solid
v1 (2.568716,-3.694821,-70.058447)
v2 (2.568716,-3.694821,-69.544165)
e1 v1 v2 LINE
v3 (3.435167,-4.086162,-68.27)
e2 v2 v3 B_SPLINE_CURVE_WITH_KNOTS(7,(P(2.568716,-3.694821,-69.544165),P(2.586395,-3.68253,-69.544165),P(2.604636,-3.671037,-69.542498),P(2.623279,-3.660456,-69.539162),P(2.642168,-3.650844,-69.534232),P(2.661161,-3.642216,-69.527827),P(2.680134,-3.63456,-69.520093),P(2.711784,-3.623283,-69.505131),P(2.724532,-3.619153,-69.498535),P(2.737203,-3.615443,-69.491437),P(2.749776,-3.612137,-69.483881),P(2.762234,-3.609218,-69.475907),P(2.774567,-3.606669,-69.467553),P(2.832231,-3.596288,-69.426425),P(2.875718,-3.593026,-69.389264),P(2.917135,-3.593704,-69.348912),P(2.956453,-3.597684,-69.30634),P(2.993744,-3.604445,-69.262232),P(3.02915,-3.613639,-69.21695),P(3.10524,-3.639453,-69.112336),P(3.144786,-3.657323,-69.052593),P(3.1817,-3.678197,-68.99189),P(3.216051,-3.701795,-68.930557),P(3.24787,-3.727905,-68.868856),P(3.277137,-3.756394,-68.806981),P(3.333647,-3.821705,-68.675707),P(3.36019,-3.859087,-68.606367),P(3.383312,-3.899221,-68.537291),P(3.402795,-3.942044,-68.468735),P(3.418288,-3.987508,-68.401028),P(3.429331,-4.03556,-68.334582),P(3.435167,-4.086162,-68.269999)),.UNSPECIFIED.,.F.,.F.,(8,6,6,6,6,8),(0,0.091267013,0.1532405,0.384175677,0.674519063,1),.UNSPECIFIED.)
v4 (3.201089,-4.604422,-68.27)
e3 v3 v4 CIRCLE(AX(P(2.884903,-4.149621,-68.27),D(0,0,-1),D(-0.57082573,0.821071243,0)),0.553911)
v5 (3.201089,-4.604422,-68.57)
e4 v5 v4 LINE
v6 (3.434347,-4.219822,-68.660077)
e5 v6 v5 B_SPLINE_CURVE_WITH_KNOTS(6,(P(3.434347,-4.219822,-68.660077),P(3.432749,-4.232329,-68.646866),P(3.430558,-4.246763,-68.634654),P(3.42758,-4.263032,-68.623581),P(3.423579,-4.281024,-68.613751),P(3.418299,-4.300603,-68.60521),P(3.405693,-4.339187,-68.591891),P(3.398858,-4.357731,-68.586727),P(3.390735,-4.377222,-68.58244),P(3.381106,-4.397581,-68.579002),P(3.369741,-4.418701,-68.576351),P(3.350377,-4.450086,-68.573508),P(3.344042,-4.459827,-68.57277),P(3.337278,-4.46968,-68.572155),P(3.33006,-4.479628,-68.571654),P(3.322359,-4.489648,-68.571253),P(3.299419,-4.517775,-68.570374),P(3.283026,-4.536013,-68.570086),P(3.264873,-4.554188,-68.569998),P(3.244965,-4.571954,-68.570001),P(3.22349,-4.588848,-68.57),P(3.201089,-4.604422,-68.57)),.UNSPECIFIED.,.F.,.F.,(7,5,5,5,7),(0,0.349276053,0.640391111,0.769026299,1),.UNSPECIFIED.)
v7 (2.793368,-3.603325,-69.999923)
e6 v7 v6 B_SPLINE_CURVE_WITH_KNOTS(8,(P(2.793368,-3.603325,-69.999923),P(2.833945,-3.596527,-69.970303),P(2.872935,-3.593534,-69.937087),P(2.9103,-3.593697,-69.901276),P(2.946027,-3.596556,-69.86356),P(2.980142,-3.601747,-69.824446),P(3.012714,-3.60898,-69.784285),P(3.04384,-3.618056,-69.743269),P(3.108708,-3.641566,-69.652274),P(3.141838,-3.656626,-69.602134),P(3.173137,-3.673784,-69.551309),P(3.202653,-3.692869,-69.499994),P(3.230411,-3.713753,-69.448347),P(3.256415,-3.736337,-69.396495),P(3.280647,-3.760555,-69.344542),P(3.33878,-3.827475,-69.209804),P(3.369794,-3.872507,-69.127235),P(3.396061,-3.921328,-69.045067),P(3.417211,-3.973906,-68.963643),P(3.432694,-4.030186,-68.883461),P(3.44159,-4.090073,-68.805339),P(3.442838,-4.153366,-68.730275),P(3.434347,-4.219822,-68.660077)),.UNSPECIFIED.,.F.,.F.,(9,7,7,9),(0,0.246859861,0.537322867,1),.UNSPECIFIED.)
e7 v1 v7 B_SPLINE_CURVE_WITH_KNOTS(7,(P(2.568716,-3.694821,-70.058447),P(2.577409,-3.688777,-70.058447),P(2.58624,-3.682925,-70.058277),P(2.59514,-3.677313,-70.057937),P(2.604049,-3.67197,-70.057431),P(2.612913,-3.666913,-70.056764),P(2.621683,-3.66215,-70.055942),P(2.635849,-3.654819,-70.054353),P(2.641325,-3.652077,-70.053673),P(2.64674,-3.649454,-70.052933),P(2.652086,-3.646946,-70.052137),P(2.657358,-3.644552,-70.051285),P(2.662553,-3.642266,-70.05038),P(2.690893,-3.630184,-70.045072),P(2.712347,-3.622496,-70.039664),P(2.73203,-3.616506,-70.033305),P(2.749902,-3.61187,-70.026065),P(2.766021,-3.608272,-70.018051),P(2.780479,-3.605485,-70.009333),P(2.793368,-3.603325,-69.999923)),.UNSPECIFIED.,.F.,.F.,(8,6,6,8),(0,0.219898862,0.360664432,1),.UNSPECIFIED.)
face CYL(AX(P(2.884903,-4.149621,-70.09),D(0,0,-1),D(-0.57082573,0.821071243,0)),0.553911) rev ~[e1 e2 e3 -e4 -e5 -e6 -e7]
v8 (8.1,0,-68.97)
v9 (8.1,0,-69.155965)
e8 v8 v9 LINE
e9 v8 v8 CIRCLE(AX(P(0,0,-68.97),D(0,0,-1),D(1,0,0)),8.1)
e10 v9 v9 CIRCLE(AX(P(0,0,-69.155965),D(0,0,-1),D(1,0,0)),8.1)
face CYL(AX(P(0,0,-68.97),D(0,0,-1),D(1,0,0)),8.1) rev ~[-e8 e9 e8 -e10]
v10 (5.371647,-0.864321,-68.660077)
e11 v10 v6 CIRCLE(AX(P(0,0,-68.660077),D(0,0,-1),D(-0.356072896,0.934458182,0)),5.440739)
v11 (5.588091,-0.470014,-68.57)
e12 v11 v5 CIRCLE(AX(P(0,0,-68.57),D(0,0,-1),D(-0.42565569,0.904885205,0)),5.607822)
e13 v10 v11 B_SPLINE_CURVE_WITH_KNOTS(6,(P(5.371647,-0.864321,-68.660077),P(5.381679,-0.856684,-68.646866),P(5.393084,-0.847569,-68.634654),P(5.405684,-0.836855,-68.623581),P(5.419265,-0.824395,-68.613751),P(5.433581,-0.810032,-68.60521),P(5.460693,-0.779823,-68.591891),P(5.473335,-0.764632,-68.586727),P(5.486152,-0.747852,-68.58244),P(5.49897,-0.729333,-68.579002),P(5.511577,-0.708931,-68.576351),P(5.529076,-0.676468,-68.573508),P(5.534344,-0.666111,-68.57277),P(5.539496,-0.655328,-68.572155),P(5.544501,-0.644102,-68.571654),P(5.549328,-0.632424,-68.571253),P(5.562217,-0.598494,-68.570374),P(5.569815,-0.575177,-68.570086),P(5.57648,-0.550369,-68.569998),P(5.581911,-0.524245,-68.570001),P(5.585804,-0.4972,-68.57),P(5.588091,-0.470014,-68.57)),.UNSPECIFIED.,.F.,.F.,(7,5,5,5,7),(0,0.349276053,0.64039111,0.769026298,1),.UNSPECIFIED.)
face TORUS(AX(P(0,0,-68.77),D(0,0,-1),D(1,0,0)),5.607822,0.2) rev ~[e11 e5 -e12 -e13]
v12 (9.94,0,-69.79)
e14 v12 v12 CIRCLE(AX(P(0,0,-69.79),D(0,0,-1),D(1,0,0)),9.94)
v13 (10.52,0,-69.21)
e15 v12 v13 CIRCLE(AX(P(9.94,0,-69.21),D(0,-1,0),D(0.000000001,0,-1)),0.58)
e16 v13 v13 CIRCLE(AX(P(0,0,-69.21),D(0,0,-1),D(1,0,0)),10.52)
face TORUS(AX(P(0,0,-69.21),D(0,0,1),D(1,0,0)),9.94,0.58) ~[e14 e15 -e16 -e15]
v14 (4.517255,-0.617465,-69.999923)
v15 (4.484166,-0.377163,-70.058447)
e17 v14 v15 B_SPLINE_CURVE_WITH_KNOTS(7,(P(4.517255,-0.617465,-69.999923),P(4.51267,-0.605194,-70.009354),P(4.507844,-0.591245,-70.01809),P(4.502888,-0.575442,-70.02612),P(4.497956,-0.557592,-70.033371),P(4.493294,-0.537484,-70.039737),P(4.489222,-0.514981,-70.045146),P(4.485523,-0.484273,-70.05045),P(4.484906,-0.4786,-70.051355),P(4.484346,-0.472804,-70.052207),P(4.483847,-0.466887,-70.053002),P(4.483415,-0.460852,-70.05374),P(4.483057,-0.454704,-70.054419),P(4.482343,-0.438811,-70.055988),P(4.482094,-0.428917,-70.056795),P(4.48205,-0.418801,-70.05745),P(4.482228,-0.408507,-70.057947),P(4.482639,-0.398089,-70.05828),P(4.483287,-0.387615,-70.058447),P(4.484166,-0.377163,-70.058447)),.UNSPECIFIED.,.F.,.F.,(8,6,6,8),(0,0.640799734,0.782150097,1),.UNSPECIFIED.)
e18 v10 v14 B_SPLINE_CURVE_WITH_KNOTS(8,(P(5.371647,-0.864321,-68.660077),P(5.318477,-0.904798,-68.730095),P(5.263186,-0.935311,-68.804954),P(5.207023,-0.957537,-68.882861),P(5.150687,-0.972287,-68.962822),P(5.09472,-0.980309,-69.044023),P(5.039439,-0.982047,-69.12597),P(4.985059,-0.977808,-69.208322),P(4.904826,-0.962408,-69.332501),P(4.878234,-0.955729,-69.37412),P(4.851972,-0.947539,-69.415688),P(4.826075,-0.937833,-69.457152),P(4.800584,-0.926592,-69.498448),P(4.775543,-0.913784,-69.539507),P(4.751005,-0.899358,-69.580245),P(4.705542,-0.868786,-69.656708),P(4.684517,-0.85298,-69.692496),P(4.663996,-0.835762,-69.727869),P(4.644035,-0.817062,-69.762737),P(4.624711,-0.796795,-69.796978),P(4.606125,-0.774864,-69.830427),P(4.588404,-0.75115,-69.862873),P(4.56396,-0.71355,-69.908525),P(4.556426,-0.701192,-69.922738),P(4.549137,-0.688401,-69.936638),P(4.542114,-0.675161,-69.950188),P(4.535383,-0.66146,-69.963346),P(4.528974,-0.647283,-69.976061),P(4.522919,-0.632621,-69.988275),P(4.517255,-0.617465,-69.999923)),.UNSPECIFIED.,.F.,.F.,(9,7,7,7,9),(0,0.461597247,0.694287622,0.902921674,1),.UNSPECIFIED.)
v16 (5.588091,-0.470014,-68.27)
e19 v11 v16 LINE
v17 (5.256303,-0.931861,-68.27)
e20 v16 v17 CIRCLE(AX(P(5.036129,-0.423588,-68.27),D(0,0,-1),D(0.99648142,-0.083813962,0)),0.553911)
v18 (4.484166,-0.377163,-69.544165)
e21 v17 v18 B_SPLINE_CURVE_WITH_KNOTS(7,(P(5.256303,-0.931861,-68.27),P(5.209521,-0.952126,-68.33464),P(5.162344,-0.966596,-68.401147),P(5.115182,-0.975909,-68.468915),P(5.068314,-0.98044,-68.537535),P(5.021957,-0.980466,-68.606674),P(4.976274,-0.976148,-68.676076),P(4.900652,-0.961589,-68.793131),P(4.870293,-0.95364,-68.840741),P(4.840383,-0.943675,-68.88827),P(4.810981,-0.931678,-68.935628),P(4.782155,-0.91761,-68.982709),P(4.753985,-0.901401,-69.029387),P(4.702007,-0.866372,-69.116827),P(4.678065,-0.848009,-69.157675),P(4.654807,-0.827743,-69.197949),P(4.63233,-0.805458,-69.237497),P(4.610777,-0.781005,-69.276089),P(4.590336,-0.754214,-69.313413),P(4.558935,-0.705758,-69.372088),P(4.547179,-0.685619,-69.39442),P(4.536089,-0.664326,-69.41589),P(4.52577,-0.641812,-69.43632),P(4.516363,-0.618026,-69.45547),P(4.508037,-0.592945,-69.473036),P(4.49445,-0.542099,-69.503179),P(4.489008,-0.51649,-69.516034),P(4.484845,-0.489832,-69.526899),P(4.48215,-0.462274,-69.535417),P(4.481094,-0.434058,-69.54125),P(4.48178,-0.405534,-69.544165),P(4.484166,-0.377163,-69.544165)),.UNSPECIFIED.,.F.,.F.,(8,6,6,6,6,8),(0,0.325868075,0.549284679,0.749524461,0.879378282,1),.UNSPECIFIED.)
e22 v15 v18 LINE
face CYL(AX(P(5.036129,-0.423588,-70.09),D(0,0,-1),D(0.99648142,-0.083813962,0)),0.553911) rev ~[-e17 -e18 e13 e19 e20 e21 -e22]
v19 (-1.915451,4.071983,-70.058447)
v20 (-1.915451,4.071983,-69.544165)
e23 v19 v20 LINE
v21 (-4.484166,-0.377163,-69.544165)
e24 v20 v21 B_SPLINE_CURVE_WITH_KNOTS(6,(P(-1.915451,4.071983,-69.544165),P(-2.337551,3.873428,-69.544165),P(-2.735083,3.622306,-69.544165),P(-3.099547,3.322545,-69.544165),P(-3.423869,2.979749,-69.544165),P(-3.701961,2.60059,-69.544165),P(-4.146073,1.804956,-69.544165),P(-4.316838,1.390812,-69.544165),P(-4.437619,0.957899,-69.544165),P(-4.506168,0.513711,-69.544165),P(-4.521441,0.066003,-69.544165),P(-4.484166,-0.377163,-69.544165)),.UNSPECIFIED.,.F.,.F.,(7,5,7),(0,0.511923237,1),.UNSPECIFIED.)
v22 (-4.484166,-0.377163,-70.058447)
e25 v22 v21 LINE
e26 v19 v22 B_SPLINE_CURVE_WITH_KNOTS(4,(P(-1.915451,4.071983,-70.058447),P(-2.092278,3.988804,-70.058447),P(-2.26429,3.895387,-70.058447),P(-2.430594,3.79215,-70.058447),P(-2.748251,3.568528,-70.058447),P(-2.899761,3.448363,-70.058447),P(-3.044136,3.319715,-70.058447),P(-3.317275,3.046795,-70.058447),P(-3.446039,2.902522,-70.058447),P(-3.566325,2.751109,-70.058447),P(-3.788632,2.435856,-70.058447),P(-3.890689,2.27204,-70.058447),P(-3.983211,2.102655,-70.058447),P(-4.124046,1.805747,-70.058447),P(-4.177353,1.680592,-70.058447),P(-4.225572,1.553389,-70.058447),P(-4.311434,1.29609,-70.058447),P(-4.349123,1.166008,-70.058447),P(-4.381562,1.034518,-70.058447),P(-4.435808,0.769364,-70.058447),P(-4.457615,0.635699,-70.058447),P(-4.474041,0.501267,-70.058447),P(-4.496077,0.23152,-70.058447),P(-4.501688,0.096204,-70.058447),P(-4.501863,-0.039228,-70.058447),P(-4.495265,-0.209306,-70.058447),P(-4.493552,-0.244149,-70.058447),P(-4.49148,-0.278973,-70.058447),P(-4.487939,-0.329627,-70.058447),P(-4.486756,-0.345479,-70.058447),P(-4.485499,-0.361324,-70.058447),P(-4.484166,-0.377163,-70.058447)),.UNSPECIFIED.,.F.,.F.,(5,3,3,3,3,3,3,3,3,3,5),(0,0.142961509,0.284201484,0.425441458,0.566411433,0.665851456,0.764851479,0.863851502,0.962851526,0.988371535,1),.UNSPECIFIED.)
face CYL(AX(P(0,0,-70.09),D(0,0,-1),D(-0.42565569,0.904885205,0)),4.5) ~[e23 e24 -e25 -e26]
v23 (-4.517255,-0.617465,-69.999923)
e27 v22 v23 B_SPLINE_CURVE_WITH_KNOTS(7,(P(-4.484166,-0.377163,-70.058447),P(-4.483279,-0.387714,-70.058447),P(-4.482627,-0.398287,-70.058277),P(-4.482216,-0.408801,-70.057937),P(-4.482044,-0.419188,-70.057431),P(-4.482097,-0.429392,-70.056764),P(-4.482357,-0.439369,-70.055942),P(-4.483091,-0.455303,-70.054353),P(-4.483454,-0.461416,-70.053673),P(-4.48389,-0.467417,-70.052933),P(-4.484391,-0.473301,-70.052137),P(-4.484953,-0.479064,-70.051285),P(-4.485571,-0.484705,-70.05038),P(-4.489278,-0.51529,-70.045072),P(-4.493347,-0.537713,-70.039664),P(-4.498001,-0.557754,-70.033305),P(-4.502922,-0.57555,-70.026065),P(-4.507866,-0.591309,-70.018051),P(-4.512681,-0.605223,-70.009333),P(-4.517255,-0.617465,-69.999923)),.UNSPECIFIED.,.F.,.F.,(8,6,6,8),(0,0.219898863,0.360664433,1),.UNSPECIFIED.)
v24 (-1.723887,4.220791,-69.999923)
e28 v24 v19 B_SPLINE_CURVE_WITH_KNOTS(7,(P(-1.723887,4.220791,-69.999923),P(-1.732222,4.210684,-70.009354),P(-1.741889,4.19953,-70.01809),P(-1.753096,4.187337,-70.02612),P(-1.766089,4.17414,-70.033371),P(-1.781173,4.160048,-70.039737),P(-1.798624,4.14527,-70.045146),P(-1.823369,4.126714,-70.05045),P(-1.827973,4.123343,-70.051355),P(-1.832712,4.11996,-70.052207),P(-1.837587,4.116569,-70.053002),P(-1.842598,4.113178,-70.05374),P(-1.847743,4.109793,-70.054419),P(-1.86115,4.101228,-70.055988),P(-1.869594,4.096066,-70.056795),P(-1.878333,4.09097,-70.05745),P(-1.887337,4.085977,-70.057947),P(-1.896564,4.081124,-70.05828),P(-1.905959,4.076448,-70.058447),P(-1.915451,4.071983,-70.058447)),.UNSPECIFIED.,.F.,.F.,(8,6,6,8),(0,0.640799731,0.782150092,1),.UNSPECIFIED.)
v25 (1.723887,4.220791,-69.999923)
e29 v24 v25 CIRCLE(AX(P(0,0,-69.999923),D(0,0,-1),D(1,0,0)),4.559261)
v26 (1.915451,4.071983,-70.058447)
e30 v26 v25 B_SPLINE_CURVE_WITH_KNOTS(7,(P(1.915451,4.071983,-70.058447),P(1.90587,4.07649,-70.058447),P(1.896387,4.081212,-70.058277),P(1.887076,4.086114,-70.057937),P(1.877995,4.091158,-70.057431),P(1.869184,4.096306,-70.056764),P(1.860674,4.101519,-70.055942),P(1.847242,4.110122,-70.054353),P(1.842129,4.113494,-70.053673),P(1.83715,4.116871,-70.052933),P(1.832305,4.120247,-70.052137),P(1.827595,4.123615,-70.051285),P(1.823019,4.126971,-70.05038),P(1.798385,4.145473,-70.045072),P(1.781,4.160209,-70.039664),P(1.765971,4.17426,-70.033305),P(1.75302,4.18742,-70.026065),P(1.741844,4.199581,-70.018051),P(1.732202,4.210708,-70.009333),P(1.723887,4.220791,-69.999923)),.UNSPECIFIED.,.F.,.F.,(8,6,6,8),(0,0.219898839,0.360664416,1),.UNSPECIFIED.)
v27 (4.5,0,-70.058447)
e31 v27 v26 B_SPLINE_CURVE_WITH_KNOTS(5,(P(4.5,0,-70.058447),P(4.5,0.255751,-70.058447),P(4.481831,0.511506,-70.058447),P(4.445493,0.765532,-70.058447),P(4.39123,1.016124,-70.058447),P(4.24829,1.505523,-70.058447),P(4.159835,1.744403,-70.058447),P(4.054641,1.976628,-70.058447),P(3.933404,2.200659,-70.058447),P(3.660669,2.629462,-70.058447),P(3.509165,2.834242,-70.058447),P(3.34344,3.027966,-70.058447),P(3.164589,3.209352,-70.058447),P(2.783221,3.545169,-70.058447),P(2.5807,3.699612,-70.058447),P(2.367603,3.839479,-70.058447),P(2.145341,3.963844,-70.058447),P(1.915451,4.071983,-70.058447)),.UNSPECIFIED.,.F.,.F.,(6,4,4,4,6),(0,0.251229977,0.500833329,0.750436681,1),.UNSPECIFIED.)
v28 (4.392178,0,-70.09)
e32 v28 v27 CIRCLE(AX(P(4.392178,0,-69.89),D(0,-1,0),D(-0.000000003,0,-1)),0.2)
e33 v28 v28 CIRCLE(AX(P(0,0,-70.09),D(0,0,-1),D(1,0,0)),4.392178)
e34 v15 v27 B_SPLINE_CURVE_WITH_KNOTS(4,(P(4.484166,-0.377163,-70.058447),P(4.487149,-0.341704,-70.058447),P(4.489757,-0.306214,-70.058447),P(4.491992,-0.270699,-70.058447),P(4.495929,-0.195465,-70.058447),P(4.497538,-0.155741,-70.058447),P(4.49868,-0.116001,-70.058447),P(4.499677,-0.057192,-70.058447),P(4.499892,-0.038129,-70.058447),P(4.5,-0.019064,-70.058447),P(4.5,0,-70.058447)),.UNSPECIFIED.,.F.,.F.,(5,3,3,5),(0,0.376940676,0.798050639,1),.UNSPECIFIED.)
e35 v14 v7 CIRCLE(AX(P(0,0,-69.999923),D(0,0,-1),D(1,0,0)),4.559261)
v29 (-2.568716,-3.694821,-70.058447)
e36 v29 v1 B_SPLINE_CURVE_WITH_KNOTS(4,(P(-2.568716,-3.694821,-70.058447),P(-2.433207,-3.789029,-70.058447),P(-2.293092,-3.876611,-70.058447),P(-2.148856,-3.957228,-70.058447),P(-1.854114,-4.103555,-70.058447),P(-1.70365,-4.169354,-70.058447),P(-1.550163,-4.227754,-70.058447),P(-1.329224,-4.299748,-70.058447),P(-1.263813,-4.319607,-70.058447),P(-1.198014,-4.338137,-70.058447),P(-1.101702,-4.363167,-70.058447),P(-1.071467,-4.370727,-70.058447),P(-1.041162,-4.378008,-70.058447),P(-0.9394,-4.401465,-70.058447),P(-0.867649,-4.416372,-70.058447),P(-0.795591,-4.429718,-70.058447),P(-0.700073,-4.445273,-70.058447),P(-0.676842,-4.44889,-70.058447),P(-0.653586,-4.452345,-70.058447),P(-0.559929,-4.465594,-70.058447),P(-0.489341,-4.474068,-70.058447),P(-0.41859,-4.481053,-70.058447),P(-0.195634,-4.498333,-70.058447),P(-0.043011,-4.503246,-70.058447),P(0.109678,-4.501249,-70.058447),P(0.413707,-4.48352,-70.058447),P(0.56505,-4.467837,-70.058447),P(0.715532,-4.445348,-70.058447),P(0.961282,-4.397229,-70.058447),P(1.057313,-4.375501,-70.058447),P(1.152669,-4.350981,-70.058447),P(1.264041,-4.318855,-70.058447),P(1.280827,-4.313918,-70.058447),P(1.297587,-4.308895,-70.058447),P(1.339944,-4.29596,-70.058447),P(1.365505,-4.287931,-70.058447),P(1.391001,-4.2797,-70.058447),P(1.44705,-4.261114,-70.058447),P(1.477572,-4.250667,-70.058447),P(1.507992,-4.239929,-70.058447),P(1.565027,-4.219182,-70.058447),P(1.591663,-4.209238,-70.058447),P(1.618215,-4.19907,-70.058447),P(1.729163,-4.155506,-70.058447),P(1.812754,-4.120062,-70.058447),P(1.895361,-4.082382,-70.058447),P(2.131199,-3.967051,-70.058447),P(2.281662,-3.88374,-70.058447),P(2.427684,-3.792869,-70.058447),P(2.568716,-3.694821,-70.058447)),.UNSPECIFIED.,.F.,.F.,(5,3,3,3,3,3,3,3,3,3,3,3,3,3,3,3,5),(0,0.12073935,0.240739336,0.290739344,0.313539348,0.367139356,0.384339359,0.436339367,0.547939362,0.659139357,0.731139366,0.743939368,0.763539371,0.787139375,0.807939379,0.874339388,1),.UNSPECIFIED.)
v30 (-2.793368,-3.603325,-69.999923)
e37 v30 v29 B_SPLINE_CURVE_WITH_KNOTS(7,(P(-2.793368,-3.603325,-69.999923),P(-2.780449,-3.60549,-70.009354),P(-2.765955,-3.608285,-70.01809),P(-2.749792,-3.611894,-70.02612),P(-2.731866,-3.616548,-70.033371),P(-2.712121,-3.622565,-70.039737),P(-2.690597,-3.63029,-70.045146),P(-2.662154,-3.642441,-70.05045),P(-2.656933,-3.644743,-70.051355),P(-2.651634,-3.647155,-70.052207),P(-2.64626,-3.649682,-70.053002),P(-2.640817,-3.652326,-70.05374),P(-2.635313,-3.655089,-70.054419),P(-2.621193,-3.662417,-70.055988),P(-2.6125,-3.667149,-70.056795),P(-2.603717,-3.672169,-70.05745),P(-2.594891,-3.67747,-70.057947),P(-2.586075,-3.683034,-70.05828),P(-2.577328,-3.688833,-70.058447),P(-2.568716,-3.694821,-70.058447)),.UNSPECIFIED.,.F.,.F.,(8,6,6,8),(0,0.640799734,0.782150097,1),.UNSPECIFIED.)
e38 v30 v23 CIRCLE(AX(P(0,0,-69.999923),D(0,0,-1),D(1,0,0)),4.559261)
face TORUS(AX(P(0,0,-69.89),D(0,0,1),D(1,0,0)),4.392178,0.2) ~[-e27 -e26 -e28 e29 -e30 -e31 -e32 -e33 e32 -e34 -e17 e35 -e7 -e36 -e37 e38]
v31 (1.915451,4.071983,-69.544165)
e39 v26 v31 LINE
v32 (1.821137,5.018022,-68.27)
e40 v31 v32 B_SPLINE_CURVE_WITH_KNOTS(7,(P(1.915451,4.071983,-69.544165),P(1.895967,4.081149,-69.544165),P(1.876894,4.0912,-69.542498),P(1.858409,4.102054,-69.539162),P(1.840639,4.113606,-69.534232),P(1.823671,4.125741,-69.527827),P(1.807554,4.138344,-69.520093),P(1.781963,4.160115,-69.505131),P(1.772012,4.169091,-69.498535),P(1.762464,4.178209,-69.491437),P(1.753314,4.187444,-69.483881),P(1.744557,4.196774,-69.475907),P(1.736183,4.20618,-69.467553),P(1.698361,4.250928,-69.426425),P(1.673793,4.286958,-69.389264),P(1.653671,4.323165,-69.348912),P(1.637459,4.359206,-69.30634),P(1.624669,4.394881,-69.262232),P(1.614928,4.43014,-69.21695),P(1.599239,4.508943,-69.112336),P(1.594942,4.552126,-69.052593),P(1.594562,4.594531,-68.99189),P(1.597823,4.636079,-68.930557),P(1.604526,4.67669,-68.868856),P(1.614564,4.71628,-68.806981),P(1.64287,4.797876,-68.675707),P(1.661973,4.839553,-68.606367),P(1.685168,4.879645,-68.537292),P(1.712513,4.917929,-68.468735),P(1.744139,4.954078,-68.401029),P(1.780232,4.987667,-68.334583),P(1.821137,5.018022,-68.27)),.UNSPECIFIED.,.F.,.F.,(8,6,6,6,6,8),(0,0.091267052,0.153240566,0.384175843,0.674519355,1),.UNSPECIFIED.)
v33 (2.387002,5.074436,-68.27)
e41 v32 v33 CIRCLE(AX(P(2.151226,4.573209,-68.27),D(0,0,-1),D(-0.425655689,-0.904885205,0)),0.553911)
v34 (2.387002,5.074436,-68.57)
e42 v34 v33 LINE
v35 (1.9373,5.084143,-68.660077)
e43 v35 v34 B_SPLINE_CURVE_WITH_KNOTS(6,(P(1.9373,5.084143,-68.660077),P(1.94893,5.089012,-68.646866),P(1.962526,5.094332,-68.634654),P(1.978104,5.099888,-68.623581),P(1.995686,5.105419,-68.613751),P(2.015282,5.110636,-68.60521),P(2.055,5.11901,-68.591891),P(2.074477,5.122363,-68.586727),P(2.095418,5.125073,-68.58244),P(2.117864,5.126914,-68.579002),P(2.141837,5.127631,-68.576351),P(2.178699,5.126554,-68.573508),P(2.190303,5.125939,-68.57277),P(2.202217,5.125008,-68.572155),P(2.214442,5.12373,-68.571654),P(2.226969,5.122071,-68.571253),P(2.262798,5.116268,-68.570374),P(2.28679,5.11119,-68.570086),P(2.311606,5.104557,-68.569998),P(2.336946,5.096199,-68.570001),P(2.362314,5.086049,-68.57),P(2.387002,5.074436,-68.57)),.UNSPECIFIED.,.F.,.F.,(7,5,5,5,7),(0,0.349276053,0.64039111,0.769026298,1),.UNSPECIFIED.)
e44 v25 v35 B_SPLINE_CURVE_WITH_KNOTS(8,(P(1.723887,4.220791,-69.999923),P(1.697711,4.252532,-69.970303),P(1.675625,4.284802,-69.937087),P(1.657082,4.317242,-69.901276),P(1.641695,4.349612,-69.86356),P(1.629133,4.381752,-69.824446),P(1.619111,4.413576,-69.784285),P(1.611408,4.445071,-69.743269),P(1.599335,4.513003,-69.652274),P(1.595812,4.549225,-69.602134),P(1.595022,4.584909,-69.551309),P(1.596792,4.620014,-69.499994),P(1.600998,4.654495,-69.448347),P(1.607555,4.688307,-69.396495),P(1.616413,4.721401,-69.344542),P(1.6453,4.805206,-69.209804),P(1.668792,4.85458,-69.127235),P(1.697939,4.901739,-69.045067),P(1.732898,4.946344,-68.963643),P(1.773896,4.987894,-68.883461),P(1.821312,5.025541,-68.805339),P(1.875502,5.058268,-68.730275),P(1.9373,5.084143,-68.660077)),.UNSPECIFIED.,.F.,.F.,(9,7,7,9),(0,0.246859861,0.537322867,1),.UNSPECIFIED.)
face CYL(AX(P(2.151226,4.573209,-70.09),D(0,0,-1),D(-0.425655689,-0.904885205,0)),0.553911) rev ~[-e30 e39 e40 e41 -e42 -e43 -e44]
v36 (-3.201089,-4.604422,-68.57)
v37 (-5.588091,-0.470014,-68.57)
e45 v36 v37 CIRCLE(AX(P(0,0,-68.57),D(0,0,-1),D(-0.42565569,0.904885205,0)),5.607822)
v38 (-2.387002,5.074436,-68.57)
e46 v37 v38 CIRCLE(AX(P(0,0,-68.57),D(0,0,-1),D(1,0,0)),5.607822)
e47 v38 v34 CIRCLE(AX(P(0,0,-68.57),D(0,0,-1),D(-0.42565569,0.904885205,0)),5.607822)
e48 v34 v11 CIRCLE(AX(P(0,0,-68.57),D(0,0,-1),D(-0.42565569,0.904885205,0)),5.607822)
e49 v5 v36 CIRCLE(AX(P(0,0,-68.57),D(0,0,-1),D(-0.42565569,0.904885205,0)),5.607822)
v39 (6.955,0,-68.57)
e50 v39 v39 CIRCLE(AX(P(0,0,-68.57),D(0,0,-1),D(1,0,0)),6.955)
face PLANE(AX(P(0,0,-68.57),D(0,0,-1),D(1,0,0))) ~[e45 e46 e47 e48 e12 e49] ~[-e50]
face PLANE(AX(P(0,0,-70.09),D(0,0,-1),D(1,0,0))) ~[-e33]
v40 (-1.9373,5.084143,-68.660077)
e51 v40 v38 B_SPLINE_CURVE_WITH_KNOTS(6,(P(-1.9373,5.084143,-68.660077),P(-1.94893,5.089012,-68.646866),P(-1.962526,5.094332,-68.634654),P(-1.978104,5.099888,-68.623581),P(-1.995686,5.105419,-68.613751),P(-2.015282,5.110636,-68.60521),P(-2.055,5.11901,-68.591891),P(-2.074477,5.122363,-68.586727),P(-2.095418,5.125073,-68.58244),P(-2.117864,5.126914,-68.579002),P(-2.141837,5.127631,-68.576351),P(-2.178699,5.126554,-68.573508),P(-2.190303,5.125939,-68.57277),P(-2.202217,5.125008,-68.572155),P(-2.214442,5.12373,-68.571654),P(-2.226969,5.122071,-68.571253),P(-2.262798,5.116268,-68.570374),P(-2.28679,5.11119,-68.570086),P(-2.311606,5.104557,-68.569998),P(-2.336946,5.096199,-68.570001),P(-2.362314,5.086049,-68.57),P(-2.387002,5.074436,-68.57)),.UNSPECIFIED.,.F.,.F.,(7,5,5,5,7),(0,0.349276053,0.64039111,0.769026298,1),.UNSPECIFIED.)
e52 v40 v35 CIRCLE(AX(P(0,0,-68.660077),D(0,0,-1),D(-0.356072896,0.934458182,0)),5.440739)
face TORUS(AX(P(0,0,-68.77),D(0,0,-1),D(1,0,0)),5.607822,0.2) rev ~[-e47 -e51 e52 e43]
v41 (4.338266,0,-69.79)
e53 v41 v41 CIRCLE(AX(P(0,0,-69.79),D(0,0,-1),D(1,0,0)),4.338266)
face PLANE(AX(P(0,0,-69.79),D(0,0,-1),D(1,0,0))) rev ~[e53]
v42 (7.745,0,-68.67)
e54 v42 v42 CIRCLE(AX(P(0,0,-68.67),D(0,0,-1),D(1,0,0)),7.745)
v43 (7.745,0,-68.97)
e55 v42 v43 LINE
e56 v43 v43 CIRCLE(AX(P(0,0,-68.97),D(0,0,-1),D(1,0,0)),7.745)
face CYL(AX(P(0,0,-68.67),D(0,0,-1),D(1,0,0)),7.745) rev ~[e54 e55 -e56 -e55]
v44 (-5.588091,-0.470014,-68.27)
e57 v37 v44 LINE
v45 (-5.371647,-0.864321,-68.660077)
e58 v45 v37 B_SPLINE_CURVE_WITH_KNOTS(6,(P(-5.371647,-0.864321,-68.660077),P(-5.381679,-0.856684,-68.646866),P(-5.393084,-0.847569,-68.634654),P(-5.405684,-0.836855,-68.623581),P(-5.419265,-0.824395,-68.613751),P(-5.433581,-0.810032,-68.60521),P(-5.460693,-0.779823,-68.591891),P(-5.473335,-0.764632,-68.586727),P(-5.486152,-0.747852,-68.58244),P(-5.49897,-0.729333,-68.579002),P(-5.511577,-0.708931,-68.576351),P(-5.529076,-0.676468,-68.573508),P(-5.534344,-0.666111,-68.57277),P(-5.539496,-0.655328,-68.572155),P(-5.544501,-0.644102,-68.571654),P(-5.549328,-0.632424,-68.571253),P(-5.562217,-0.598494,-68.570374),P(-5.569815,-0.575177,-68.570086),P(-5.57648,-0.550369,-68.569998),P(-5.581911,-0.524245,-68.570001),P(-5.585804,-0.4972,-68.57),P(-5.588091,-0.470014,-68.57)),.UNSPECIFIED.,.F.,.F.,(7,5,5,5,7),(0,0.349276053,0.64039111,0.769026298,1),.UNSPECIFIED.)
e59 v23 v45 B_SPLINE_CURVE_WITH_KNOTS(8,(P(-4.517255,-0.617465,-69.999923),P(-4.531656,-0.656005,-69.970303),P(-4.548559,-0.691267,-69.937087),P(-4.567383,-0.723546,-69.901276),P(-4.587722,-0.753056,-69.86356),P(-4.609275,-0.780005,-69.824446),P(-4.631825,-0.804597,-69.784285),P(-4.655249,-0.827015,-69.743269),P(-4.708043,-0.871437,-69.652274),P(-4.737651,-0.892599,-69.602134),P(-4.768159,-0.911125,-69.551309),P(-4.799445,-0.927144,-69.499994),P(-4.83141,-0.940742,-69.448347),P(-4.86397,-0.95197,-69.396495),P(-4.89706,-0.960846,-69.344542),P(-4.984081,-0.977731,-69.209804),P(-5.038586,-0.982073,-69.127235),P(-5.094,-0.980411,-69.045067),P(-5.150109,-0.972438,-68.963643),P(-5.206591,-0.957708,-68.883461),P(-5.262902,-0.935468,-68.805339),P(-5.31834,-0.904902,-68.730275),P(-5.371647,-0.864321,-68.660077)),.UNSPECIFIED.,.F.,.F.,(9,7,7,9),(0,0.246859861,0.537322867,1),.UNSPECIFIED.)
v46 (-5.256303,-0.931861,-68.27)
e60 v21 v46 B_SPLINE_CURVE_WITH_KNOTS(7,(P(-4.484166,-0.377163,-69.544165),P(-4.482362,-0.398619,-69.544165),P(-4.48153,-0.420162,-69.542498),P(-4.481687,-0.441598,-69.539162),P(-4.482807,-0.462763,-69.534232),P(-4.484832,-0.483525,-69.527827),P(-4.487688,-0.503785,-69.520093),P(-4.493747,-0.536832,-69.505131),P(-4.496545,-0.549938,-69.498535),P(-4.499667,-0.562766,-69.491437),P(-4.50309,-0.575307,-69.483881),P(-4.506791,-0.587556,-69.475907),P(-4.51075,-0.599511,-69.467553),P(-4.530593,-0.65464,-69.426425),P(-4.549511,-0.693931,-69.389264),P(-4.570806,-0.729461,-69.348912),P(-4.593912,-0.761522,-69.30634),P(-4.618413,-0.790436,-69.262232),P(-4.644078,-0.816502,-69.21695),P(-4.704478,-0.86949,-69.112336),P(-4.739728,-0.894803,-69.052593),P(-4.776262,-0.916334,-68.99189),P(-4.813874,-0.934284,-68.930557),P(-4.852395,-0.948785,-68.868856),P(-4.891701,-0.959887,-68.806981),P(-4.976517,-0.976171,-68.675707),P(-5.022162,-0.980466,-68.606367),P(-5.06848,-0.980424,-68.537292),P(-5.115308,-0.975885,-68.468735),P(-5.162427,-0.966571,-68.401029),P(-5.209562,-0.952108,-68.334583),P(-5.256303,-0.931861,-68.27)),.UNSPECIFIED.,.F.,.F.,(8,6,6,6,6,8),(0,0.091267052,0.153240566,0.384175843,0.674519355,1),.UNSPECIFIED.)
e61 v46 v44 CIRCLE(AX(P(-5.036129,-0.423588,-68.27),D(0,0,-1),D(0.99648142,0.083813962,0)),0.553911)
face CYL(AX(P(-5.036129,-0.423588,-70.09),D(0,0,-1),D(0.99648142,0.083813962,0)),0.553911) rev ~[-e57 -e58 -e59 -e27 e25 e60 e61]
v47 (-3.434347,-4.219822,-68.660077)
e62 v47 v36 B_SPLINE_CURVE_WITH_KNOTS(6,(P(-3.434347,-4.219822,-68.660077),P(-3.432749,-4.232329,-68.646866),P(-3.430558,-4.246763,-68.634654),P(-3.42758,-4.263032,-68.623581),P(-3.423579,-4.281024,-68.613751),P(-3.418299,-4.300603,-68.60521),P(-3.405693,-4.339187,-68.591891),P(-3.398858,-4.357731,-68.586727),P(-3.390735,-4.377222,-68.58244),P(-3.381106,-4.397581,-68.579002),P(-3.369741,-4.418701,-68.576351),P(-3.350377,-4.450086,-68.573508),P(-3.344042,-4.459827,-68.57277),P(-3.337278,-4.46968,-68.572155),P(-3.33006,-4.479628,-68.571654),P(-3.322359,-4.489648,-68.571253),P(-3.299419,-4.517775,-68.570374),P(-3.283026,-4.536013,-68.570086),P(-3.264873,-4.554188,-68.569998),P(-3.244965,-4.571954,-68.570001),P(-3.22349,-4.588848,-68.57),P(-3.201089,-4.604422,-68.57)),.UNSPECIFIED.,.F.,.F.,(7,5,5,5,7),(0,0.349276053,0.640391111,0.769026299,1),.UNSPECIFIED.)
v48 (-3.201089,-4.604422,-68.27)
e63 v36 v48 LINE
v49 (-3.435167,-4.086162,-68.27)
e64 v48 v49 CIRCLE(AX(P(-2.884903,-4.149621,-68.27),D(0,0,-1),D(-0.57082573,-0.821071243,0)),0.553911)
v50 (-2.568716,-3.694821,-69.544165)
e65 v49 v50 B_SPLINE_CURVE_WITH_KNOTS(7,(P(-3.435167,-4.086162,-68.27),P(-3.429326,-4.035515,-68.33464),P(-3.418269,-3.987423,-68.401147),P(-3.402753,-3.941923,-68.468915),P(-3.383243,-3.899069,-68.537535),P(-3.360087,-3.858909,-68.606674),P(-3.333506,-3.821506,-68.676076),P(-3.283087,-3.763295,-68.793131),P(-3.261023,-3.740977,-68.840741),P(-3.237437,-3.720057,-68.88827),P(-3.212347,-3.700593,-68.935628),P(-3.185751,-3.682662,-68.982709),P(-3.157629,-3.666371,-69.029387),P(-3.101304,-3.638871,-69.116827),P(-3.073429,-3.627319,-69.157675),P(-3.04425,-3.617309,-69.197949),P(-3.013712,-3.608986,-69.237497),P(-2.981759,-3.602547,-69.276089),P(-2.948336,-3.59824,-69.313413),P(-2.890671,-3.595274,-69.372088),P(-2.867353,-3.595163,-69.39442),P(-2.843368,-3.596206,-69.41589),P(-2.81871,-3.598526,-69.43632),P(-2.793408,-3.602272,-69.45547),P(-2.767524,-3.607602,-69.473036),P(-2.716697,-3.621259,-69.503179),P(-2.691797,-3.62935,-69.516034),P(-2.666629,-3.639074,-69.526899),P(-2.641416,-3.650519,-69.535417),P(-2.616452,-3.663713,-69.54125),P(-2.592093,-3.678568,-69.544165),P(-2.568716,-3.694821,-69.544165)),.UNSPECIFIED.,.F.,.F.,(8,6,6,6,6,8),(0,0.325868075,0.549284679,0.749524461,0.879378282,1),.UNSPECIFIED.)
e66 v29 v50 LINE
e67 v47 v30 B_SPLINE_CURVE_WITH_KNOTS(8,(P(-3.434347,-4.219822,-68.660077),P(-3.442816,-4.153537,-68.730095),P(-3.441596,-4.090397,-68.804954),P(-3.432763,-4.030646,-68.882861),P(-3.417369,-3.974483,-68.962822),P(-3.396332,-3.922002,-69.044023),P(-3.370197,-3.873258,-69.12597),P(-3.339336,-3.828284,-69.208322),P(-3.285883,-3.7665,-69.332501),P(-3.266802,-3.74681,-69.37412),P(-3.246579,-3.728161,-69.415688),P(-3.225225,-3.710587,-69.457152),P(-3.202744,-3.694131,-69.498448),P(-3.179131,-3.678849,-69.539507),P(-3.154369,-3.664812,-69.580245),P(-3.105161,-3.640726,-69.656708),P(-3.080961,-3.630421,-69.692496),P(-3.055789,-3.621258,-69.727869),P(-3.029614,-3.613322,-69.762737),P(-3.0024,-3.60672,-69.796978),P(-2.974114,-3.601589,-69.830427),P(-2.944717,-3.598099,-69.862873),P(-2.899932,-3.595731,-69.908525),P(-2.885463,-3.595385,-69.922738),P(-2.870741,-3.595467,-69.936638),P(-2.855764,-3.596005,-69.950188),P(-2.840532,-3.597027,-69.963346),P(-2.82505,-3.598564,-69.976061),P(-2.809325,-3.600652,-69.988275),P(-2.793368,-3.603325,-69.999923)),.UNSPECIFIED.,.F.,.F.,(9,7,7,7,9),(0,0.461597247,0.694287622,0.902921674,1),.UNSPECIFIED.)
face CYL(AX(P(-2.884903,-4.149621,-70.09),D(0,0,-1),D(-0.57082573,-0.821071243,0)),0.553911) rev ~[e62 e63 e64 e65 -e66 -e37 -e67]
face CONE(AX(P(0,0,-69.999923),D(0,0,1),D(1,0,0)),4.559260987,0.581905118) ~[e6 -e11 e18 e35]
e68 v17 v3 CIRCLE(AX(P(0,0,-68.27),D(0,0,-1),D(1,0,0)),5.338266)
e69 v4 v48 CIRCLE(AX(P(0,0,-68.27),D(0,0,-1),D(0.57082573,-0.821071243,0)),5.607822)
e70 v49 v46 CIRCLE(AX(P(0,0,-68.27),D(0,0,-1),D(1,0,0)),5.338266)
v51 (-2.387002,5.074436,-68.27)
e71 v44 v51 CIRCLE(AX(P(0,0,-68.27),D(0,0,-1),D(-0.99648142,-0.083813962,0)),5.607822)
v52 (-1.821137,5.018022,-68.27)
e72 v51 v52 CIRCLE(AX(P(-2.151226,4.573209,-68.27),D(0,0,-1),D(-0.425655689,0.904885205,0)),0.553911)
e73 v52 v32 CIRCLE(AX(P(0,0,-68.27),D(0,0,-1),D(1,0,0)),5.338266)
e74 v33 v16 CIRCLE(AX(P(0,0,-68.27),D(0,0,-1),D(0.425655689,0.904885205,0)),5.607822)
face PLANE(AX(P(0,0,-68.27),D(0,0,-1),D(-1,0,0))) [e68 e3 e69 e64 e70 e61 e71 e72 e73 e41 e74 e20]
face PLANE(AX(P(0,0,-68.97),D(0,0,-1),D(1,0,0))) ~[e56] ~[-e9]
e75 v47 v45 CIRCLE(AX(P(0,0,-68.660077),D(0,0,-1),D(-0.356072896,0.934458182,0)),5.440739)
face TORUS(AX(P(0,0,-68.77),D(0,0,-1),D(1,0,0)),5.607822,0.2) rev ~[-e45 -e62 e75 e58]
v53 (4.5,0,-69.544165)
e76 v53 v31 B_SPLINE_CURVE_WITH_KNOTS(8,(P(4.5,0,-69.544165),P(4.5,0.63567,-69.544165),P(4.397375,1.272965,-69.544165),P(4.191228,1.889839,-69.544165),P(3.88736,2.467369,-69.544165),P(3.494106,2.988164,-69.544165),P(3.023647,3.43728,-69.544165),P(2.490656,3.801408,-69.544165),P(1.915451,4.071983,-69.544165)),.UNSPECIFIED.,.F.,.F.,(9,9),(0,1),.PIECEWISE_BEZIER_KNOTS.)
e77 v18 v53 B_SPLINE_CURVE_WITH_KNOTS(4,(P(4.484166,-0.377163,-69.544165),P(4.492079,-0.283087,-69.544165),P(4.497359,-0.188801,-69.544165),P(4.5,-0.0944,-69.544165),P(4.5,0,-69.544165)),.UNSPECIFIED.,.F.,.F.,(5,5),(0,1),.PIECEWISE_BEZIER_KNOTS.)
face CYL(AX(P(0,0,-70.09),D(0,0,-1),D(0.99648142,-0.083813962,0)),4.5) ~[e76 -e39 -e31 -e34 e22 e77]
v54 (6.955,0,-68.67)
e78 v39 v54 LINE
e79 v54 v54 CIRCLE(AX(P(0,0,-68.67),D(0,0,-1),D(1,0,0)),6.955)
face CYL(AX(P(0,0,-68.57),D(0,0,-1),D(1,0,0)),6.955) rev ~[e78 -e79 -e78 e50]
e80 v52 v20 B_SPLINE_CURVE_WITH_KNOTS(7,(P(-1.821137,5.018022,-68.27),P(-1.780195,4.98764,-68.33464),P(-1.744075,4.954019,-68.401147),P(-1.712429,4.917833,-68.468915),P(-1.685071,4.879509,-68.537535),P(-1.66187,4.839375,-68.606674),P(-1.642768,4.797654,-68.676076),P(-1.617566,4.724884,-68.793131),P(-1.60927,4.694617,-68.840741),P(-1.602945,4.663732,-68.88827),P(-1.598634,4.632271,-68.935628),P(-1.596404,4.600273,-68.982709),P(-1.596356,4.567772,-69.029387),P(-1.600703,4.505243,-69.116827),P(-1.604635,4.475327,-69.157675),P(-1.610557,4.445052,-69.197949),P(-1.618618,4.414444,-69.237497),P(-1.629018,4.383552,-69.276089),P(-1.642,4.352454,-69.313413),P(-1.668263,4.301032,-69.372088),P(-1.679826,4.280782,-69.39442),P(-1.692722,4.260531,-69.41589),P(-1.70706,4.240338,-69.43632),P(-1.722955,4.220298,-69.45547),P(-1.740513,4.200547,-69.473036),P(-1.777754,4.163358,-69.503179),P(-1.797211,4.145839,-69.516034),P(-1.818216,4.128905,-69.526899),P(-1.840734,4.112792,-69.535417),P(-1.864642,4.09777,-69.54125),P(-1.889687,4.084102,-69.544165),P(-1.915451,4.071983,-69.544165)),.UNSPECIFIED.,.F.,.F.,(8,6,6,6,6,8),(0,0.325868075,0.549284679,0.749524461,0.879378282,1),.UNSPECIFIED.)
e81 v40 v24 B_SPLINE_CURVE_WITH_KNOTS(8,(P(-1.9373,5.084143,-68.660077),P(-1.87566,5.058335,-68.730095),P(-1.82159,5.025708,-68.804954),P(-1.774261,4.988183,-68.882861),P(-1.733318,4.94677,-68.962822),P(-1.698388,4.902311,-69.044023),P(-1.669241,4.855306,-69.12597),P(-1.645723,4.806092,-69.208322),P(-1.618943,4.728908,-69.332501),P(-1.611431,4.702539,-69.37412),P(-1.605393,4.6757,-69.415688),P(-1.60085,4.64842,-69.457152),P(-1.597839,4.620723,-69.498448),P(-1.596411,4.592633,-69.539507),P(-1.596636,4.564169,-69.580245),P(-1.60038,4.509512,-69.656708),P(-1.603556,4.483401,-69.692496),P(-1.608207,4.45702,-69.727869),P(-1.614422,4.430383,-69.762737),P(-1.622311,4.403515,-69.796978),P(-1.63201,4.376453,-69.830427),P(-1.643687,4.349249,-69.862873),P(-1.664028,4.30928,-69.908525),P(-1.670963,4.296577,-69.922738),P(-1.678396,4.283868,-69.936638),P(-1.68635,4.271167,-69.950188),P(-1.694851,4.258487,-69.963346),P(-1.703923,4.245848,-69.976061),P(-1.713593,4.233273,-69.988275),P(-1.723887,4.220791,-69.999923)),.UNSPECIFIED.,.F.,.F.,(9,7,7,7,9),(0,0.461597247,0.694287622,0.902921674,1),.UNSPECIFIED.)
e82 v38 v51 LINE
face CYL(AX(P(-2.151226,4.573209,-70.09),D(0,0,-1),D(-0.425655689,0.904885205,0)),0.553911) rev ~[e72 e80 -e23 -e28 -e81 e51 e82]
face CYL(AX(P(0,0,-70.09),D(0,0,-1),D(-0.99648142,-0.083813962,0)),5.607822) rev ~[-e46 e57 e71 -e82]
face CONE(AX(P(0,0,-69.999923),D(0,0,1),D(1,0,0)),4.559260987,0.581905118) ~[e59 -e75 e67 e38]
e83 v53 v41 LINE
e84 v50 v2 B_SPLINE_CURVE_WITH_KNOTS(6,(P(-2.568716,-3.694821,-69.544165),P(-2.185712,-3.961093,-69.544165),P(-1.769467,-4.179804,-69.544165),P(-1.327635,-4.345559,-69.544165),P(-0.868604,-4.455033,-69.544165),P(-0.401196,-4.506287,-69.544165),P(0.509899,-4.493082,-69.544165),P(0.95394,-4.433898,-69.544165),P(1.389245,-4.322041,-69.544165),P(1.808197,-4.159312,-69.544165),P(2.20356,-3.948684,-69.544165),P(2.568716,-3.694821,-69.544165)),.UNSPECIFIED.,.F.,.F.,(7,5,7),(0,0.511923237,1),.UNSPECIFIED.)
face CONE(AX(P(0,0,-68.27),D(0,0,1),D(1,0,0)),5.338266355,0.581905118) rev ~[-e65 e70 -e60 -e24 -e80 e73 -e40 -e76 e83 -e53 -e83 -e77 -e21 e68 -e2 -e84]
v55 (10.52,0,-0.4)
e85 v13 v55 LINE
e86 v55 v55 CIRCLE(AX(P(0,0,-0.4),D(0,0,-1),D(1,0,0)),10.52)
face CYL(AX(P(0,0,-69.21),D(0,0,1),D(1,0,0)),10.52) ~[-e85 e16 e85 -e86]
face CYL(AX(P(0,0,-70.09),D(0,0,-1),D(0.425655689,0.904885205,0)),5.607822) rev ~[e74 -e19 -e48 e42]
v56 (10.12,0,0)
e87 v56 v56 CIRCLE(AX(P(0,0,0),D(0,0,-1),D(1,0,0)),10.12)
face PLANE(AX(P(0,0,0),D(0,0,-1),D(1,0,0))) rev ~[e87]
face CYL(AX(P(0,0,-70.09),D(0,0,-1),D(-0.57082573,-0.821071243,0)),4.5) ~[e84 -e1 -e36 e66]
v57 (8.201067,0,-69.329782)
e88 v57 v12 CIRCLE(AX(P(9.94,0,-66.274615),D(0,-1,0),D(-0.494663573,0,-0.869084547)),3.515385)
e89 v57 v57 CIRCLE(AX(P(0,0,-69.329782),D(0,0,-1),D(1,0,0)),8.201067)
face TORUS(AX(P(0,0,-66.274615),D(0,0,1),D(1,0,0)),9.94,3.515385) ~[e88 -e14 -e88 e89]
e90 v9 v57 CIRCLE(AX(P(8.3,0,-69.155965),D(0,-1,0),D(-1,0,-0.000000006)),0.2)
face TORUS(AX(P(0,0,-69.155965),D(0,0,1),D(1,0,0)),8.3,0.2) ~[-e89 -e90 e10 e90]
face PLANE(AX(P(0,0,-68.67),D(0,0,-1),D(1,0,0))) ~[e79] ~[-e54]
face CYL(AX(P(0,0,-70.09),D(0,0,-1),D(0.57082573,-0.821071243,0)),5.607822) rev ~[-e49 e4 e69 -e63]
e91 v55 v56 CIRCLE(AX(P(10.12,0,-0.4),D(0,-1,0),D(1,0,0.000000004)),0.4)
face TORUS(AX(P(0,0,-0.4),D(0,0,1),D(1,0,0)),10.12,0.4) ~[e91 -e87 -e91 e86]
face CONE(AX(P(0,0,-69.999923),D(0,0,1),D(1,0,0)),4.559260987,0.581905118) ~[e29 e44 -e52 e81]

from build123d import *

# Parameters (mm, degrees)
CUT_EXTRUDE1_REACH = 73.652


with BuildPart() as part:
    # Sketch1 → Revolve1 (revolve)
    with BuildSketch(Plane(origin=(0, 0, 0), x_dir=(1, 0, 0), z_dir=(0, 1, 0))):
        with BuildLine():
            Line((0, 70.09), (4.39217757, 70.09))
            ThreePointArc((4.39217757, 70.09), (4.487086316, 70.066046386), (4.559260987, 69.9999233))
            Line((4.559260987, 69.9999233), (5.440739013, 68.6600767))
            ThreePointArc((5.440739013, 68.6600767), (5.512913684, 68.593953614), (5.60782243, 68.57))
            Line((5.60782243, 68.57), (6.955, 68.57))
            Line((6.955, 68.57), (6.955, 68.67))
            Line((6.955, 68.67), (7.745, 68.67))
            Line((7.745, 68.67), (7.745, 68.97))
            Line((7.745, 68.97), (8.1, 68.97))
            Line((8.1, 68.97), (8.1, 69.15596492))
            ThreePointArc((8.1, 69.15596492), (8.127103293, 69.256497147), (8.201067285, 69.32978183))
            ThreePointArc((8.201067285, 69.32978183), (9.040599123, 69.672998391), (9.94, 69.79))
            ThreePointArc((9.94, 69.79), (10.350121933, 69.620121933), (10.52, 69.21))
            Line((10.52, 69.21), (10.52, 0.4))
            ThreePointArc((10.52, 0.4), (10.402842712, 0.117157288), (10.12, 0))
            Line((10.12, 0), (0, 0))
            Line((0, 0), (0, 68.27))
            Line((0, 68.27), (5.338266355, 68.27))
            Line((5.338266355, 68.27), (4.338266355, 69.79))
            Line((4.338266355, 69.79), (0, 69.79))
            Line((0, 69.79), (0, 70.09))
        make_face()
    revolve(axis=Axis((0, 0, 0), (0, 0, -1)))

    # Cut-Extrude1: up to this face of the body (flat: up to its plane)
    cut_extrude1_end = Plane(part.part.faces().sort_by_distance((0, 0, -68.27))[0])
    # Sketch2 → Cut-Extrude1 (cut, up to the picked face)
    with BuildSketch(Plane(origin=(0, 0, -70.09), x_dir=(-1, 0, 0), z_dir=(0, 0, -1)), mode=Mode.PRIVATE) as cut_extrude1_sk1:
        with BuildLine():
            ThreePointArc((5.588090856, -0.470013816), (4.856516684, 2.803911215), (2.387001523, 5.074435548))
            ThreePointArc((2.387001523, 5.074435548), (1.65, 4.808984945), (1.915450603, 4.071983422))
            ThreePointArc((1.915450603, 4.071983422), (3.897114317, 2.25), (4.484166389, -0.377162829))
            ThreePointArc((4.484166389, -0.377162829), (4.989703129, -0.975550556), (5.588090856, -0.470013816))
        make_face()
    cut_extrude1_tool1 = split(extrude(cut_extrude1_sk1.sketch, amount=-CUT_EXTRUDE1_REACH, mode=Mode.PRIVATE), bisect_by=cut_extrude1_end, keep=Keep.BOTH, mode=Mode.PRIVATE)
    # Sketch2 → Cut-Extrude1 (cut, up to the picked face)
    with BuildSketch(Plane(origin=(0, 0, -70.09), x_dir=(-1, 0, 0), z_dir=(0, 0, -1)), mode=Mode.PRIVATE) as cut_extrude1_sk2:
        with BuildLine():
            ThreePointArc((-3.201089333, -4.604421732), (0, -5.60782243), (3.201089333, -4.604421732))
            ThreePointArc((3.201089333, -4.604421732), (3.339703129, -3.833434389), (2.568715786, -3.694820593))
            ThreePointArc((2.568715786, -3.694820593), (0, -4.5), (-2.568715786, -3.694820593))
            ThreePointArc((-2.568715786, -3.694820593), (-3.339703129, -3.833434389), (-3.201089333, -4.604421732))
        make_face()
    cut_extrude1_tool2 = split(extrude(cut_extrude1_sk2.sketch, amount=-CUT_EXTRUDE1_REACH, mode=Mode.PRIVATE), bisect_by=cut_extrude1_end, keep=Keep.BOTH, mode=Mode.PRIVATE)
    # Sketch2 → Cut-Extrude1 (cut, up to the picked face)
    with BuildSketch(Plane(origin=(0, 0, -70.09), x_dir=(-1, 0, 0), z_dir=(0, 0, -1)), mode=Mode.PRIVATE) as cut_extrude1_sk3:
        with BuildLine():
            ThreePointArc((-2.387001523, 5.074435548), (-4.856516684, 2.803911215), (-5.588090856, -0.470013816))
            ThreePointArc((-5.588090856, -0.470013816), (-4.989703129, -0.975550556), (-4.484166389, -0.377162829))
            ThreePointArc((-4.484166389, -0.377162829), (-3.897114317, 2.25), (-1.915450603, 4.071983422))
            ThreePointArc((-1.915450603, 4.071983422), (-1.65, 4.808984945), (-2.387001523, 5.074435548))
        make_face()
    cut_extrude1_tool3 = split(extrude(cut_extrude1_sk3.sketch, amount=-CUT_EXTRUDE1_REACH, mode=Mode.PRIVATE), bisect_by=cut_extrude1_end, keep=Keep.BOTH, mode=Mode.PRIVATE)
    add(cut_extrude1_tool1.solids().sort_by(Axis((-4.048123, 2.337185, -70.09), (0, 0, 1)))[0], mode=Mode.SUBTRACT)
    add(cut_extrude1_tool2.solids().sort_by(Axis((0, -4.67437, -70.09), (0, 0, 1)))[0], mode=Mode.SUBTRACT)
    add(cut_extrude1_tool3.solids().sort_by(Axis((4.048123, 2.337185, -70.09), (0, 0, 1)))[0], mode=Mode.SUBTRACT)


solid = part.part
